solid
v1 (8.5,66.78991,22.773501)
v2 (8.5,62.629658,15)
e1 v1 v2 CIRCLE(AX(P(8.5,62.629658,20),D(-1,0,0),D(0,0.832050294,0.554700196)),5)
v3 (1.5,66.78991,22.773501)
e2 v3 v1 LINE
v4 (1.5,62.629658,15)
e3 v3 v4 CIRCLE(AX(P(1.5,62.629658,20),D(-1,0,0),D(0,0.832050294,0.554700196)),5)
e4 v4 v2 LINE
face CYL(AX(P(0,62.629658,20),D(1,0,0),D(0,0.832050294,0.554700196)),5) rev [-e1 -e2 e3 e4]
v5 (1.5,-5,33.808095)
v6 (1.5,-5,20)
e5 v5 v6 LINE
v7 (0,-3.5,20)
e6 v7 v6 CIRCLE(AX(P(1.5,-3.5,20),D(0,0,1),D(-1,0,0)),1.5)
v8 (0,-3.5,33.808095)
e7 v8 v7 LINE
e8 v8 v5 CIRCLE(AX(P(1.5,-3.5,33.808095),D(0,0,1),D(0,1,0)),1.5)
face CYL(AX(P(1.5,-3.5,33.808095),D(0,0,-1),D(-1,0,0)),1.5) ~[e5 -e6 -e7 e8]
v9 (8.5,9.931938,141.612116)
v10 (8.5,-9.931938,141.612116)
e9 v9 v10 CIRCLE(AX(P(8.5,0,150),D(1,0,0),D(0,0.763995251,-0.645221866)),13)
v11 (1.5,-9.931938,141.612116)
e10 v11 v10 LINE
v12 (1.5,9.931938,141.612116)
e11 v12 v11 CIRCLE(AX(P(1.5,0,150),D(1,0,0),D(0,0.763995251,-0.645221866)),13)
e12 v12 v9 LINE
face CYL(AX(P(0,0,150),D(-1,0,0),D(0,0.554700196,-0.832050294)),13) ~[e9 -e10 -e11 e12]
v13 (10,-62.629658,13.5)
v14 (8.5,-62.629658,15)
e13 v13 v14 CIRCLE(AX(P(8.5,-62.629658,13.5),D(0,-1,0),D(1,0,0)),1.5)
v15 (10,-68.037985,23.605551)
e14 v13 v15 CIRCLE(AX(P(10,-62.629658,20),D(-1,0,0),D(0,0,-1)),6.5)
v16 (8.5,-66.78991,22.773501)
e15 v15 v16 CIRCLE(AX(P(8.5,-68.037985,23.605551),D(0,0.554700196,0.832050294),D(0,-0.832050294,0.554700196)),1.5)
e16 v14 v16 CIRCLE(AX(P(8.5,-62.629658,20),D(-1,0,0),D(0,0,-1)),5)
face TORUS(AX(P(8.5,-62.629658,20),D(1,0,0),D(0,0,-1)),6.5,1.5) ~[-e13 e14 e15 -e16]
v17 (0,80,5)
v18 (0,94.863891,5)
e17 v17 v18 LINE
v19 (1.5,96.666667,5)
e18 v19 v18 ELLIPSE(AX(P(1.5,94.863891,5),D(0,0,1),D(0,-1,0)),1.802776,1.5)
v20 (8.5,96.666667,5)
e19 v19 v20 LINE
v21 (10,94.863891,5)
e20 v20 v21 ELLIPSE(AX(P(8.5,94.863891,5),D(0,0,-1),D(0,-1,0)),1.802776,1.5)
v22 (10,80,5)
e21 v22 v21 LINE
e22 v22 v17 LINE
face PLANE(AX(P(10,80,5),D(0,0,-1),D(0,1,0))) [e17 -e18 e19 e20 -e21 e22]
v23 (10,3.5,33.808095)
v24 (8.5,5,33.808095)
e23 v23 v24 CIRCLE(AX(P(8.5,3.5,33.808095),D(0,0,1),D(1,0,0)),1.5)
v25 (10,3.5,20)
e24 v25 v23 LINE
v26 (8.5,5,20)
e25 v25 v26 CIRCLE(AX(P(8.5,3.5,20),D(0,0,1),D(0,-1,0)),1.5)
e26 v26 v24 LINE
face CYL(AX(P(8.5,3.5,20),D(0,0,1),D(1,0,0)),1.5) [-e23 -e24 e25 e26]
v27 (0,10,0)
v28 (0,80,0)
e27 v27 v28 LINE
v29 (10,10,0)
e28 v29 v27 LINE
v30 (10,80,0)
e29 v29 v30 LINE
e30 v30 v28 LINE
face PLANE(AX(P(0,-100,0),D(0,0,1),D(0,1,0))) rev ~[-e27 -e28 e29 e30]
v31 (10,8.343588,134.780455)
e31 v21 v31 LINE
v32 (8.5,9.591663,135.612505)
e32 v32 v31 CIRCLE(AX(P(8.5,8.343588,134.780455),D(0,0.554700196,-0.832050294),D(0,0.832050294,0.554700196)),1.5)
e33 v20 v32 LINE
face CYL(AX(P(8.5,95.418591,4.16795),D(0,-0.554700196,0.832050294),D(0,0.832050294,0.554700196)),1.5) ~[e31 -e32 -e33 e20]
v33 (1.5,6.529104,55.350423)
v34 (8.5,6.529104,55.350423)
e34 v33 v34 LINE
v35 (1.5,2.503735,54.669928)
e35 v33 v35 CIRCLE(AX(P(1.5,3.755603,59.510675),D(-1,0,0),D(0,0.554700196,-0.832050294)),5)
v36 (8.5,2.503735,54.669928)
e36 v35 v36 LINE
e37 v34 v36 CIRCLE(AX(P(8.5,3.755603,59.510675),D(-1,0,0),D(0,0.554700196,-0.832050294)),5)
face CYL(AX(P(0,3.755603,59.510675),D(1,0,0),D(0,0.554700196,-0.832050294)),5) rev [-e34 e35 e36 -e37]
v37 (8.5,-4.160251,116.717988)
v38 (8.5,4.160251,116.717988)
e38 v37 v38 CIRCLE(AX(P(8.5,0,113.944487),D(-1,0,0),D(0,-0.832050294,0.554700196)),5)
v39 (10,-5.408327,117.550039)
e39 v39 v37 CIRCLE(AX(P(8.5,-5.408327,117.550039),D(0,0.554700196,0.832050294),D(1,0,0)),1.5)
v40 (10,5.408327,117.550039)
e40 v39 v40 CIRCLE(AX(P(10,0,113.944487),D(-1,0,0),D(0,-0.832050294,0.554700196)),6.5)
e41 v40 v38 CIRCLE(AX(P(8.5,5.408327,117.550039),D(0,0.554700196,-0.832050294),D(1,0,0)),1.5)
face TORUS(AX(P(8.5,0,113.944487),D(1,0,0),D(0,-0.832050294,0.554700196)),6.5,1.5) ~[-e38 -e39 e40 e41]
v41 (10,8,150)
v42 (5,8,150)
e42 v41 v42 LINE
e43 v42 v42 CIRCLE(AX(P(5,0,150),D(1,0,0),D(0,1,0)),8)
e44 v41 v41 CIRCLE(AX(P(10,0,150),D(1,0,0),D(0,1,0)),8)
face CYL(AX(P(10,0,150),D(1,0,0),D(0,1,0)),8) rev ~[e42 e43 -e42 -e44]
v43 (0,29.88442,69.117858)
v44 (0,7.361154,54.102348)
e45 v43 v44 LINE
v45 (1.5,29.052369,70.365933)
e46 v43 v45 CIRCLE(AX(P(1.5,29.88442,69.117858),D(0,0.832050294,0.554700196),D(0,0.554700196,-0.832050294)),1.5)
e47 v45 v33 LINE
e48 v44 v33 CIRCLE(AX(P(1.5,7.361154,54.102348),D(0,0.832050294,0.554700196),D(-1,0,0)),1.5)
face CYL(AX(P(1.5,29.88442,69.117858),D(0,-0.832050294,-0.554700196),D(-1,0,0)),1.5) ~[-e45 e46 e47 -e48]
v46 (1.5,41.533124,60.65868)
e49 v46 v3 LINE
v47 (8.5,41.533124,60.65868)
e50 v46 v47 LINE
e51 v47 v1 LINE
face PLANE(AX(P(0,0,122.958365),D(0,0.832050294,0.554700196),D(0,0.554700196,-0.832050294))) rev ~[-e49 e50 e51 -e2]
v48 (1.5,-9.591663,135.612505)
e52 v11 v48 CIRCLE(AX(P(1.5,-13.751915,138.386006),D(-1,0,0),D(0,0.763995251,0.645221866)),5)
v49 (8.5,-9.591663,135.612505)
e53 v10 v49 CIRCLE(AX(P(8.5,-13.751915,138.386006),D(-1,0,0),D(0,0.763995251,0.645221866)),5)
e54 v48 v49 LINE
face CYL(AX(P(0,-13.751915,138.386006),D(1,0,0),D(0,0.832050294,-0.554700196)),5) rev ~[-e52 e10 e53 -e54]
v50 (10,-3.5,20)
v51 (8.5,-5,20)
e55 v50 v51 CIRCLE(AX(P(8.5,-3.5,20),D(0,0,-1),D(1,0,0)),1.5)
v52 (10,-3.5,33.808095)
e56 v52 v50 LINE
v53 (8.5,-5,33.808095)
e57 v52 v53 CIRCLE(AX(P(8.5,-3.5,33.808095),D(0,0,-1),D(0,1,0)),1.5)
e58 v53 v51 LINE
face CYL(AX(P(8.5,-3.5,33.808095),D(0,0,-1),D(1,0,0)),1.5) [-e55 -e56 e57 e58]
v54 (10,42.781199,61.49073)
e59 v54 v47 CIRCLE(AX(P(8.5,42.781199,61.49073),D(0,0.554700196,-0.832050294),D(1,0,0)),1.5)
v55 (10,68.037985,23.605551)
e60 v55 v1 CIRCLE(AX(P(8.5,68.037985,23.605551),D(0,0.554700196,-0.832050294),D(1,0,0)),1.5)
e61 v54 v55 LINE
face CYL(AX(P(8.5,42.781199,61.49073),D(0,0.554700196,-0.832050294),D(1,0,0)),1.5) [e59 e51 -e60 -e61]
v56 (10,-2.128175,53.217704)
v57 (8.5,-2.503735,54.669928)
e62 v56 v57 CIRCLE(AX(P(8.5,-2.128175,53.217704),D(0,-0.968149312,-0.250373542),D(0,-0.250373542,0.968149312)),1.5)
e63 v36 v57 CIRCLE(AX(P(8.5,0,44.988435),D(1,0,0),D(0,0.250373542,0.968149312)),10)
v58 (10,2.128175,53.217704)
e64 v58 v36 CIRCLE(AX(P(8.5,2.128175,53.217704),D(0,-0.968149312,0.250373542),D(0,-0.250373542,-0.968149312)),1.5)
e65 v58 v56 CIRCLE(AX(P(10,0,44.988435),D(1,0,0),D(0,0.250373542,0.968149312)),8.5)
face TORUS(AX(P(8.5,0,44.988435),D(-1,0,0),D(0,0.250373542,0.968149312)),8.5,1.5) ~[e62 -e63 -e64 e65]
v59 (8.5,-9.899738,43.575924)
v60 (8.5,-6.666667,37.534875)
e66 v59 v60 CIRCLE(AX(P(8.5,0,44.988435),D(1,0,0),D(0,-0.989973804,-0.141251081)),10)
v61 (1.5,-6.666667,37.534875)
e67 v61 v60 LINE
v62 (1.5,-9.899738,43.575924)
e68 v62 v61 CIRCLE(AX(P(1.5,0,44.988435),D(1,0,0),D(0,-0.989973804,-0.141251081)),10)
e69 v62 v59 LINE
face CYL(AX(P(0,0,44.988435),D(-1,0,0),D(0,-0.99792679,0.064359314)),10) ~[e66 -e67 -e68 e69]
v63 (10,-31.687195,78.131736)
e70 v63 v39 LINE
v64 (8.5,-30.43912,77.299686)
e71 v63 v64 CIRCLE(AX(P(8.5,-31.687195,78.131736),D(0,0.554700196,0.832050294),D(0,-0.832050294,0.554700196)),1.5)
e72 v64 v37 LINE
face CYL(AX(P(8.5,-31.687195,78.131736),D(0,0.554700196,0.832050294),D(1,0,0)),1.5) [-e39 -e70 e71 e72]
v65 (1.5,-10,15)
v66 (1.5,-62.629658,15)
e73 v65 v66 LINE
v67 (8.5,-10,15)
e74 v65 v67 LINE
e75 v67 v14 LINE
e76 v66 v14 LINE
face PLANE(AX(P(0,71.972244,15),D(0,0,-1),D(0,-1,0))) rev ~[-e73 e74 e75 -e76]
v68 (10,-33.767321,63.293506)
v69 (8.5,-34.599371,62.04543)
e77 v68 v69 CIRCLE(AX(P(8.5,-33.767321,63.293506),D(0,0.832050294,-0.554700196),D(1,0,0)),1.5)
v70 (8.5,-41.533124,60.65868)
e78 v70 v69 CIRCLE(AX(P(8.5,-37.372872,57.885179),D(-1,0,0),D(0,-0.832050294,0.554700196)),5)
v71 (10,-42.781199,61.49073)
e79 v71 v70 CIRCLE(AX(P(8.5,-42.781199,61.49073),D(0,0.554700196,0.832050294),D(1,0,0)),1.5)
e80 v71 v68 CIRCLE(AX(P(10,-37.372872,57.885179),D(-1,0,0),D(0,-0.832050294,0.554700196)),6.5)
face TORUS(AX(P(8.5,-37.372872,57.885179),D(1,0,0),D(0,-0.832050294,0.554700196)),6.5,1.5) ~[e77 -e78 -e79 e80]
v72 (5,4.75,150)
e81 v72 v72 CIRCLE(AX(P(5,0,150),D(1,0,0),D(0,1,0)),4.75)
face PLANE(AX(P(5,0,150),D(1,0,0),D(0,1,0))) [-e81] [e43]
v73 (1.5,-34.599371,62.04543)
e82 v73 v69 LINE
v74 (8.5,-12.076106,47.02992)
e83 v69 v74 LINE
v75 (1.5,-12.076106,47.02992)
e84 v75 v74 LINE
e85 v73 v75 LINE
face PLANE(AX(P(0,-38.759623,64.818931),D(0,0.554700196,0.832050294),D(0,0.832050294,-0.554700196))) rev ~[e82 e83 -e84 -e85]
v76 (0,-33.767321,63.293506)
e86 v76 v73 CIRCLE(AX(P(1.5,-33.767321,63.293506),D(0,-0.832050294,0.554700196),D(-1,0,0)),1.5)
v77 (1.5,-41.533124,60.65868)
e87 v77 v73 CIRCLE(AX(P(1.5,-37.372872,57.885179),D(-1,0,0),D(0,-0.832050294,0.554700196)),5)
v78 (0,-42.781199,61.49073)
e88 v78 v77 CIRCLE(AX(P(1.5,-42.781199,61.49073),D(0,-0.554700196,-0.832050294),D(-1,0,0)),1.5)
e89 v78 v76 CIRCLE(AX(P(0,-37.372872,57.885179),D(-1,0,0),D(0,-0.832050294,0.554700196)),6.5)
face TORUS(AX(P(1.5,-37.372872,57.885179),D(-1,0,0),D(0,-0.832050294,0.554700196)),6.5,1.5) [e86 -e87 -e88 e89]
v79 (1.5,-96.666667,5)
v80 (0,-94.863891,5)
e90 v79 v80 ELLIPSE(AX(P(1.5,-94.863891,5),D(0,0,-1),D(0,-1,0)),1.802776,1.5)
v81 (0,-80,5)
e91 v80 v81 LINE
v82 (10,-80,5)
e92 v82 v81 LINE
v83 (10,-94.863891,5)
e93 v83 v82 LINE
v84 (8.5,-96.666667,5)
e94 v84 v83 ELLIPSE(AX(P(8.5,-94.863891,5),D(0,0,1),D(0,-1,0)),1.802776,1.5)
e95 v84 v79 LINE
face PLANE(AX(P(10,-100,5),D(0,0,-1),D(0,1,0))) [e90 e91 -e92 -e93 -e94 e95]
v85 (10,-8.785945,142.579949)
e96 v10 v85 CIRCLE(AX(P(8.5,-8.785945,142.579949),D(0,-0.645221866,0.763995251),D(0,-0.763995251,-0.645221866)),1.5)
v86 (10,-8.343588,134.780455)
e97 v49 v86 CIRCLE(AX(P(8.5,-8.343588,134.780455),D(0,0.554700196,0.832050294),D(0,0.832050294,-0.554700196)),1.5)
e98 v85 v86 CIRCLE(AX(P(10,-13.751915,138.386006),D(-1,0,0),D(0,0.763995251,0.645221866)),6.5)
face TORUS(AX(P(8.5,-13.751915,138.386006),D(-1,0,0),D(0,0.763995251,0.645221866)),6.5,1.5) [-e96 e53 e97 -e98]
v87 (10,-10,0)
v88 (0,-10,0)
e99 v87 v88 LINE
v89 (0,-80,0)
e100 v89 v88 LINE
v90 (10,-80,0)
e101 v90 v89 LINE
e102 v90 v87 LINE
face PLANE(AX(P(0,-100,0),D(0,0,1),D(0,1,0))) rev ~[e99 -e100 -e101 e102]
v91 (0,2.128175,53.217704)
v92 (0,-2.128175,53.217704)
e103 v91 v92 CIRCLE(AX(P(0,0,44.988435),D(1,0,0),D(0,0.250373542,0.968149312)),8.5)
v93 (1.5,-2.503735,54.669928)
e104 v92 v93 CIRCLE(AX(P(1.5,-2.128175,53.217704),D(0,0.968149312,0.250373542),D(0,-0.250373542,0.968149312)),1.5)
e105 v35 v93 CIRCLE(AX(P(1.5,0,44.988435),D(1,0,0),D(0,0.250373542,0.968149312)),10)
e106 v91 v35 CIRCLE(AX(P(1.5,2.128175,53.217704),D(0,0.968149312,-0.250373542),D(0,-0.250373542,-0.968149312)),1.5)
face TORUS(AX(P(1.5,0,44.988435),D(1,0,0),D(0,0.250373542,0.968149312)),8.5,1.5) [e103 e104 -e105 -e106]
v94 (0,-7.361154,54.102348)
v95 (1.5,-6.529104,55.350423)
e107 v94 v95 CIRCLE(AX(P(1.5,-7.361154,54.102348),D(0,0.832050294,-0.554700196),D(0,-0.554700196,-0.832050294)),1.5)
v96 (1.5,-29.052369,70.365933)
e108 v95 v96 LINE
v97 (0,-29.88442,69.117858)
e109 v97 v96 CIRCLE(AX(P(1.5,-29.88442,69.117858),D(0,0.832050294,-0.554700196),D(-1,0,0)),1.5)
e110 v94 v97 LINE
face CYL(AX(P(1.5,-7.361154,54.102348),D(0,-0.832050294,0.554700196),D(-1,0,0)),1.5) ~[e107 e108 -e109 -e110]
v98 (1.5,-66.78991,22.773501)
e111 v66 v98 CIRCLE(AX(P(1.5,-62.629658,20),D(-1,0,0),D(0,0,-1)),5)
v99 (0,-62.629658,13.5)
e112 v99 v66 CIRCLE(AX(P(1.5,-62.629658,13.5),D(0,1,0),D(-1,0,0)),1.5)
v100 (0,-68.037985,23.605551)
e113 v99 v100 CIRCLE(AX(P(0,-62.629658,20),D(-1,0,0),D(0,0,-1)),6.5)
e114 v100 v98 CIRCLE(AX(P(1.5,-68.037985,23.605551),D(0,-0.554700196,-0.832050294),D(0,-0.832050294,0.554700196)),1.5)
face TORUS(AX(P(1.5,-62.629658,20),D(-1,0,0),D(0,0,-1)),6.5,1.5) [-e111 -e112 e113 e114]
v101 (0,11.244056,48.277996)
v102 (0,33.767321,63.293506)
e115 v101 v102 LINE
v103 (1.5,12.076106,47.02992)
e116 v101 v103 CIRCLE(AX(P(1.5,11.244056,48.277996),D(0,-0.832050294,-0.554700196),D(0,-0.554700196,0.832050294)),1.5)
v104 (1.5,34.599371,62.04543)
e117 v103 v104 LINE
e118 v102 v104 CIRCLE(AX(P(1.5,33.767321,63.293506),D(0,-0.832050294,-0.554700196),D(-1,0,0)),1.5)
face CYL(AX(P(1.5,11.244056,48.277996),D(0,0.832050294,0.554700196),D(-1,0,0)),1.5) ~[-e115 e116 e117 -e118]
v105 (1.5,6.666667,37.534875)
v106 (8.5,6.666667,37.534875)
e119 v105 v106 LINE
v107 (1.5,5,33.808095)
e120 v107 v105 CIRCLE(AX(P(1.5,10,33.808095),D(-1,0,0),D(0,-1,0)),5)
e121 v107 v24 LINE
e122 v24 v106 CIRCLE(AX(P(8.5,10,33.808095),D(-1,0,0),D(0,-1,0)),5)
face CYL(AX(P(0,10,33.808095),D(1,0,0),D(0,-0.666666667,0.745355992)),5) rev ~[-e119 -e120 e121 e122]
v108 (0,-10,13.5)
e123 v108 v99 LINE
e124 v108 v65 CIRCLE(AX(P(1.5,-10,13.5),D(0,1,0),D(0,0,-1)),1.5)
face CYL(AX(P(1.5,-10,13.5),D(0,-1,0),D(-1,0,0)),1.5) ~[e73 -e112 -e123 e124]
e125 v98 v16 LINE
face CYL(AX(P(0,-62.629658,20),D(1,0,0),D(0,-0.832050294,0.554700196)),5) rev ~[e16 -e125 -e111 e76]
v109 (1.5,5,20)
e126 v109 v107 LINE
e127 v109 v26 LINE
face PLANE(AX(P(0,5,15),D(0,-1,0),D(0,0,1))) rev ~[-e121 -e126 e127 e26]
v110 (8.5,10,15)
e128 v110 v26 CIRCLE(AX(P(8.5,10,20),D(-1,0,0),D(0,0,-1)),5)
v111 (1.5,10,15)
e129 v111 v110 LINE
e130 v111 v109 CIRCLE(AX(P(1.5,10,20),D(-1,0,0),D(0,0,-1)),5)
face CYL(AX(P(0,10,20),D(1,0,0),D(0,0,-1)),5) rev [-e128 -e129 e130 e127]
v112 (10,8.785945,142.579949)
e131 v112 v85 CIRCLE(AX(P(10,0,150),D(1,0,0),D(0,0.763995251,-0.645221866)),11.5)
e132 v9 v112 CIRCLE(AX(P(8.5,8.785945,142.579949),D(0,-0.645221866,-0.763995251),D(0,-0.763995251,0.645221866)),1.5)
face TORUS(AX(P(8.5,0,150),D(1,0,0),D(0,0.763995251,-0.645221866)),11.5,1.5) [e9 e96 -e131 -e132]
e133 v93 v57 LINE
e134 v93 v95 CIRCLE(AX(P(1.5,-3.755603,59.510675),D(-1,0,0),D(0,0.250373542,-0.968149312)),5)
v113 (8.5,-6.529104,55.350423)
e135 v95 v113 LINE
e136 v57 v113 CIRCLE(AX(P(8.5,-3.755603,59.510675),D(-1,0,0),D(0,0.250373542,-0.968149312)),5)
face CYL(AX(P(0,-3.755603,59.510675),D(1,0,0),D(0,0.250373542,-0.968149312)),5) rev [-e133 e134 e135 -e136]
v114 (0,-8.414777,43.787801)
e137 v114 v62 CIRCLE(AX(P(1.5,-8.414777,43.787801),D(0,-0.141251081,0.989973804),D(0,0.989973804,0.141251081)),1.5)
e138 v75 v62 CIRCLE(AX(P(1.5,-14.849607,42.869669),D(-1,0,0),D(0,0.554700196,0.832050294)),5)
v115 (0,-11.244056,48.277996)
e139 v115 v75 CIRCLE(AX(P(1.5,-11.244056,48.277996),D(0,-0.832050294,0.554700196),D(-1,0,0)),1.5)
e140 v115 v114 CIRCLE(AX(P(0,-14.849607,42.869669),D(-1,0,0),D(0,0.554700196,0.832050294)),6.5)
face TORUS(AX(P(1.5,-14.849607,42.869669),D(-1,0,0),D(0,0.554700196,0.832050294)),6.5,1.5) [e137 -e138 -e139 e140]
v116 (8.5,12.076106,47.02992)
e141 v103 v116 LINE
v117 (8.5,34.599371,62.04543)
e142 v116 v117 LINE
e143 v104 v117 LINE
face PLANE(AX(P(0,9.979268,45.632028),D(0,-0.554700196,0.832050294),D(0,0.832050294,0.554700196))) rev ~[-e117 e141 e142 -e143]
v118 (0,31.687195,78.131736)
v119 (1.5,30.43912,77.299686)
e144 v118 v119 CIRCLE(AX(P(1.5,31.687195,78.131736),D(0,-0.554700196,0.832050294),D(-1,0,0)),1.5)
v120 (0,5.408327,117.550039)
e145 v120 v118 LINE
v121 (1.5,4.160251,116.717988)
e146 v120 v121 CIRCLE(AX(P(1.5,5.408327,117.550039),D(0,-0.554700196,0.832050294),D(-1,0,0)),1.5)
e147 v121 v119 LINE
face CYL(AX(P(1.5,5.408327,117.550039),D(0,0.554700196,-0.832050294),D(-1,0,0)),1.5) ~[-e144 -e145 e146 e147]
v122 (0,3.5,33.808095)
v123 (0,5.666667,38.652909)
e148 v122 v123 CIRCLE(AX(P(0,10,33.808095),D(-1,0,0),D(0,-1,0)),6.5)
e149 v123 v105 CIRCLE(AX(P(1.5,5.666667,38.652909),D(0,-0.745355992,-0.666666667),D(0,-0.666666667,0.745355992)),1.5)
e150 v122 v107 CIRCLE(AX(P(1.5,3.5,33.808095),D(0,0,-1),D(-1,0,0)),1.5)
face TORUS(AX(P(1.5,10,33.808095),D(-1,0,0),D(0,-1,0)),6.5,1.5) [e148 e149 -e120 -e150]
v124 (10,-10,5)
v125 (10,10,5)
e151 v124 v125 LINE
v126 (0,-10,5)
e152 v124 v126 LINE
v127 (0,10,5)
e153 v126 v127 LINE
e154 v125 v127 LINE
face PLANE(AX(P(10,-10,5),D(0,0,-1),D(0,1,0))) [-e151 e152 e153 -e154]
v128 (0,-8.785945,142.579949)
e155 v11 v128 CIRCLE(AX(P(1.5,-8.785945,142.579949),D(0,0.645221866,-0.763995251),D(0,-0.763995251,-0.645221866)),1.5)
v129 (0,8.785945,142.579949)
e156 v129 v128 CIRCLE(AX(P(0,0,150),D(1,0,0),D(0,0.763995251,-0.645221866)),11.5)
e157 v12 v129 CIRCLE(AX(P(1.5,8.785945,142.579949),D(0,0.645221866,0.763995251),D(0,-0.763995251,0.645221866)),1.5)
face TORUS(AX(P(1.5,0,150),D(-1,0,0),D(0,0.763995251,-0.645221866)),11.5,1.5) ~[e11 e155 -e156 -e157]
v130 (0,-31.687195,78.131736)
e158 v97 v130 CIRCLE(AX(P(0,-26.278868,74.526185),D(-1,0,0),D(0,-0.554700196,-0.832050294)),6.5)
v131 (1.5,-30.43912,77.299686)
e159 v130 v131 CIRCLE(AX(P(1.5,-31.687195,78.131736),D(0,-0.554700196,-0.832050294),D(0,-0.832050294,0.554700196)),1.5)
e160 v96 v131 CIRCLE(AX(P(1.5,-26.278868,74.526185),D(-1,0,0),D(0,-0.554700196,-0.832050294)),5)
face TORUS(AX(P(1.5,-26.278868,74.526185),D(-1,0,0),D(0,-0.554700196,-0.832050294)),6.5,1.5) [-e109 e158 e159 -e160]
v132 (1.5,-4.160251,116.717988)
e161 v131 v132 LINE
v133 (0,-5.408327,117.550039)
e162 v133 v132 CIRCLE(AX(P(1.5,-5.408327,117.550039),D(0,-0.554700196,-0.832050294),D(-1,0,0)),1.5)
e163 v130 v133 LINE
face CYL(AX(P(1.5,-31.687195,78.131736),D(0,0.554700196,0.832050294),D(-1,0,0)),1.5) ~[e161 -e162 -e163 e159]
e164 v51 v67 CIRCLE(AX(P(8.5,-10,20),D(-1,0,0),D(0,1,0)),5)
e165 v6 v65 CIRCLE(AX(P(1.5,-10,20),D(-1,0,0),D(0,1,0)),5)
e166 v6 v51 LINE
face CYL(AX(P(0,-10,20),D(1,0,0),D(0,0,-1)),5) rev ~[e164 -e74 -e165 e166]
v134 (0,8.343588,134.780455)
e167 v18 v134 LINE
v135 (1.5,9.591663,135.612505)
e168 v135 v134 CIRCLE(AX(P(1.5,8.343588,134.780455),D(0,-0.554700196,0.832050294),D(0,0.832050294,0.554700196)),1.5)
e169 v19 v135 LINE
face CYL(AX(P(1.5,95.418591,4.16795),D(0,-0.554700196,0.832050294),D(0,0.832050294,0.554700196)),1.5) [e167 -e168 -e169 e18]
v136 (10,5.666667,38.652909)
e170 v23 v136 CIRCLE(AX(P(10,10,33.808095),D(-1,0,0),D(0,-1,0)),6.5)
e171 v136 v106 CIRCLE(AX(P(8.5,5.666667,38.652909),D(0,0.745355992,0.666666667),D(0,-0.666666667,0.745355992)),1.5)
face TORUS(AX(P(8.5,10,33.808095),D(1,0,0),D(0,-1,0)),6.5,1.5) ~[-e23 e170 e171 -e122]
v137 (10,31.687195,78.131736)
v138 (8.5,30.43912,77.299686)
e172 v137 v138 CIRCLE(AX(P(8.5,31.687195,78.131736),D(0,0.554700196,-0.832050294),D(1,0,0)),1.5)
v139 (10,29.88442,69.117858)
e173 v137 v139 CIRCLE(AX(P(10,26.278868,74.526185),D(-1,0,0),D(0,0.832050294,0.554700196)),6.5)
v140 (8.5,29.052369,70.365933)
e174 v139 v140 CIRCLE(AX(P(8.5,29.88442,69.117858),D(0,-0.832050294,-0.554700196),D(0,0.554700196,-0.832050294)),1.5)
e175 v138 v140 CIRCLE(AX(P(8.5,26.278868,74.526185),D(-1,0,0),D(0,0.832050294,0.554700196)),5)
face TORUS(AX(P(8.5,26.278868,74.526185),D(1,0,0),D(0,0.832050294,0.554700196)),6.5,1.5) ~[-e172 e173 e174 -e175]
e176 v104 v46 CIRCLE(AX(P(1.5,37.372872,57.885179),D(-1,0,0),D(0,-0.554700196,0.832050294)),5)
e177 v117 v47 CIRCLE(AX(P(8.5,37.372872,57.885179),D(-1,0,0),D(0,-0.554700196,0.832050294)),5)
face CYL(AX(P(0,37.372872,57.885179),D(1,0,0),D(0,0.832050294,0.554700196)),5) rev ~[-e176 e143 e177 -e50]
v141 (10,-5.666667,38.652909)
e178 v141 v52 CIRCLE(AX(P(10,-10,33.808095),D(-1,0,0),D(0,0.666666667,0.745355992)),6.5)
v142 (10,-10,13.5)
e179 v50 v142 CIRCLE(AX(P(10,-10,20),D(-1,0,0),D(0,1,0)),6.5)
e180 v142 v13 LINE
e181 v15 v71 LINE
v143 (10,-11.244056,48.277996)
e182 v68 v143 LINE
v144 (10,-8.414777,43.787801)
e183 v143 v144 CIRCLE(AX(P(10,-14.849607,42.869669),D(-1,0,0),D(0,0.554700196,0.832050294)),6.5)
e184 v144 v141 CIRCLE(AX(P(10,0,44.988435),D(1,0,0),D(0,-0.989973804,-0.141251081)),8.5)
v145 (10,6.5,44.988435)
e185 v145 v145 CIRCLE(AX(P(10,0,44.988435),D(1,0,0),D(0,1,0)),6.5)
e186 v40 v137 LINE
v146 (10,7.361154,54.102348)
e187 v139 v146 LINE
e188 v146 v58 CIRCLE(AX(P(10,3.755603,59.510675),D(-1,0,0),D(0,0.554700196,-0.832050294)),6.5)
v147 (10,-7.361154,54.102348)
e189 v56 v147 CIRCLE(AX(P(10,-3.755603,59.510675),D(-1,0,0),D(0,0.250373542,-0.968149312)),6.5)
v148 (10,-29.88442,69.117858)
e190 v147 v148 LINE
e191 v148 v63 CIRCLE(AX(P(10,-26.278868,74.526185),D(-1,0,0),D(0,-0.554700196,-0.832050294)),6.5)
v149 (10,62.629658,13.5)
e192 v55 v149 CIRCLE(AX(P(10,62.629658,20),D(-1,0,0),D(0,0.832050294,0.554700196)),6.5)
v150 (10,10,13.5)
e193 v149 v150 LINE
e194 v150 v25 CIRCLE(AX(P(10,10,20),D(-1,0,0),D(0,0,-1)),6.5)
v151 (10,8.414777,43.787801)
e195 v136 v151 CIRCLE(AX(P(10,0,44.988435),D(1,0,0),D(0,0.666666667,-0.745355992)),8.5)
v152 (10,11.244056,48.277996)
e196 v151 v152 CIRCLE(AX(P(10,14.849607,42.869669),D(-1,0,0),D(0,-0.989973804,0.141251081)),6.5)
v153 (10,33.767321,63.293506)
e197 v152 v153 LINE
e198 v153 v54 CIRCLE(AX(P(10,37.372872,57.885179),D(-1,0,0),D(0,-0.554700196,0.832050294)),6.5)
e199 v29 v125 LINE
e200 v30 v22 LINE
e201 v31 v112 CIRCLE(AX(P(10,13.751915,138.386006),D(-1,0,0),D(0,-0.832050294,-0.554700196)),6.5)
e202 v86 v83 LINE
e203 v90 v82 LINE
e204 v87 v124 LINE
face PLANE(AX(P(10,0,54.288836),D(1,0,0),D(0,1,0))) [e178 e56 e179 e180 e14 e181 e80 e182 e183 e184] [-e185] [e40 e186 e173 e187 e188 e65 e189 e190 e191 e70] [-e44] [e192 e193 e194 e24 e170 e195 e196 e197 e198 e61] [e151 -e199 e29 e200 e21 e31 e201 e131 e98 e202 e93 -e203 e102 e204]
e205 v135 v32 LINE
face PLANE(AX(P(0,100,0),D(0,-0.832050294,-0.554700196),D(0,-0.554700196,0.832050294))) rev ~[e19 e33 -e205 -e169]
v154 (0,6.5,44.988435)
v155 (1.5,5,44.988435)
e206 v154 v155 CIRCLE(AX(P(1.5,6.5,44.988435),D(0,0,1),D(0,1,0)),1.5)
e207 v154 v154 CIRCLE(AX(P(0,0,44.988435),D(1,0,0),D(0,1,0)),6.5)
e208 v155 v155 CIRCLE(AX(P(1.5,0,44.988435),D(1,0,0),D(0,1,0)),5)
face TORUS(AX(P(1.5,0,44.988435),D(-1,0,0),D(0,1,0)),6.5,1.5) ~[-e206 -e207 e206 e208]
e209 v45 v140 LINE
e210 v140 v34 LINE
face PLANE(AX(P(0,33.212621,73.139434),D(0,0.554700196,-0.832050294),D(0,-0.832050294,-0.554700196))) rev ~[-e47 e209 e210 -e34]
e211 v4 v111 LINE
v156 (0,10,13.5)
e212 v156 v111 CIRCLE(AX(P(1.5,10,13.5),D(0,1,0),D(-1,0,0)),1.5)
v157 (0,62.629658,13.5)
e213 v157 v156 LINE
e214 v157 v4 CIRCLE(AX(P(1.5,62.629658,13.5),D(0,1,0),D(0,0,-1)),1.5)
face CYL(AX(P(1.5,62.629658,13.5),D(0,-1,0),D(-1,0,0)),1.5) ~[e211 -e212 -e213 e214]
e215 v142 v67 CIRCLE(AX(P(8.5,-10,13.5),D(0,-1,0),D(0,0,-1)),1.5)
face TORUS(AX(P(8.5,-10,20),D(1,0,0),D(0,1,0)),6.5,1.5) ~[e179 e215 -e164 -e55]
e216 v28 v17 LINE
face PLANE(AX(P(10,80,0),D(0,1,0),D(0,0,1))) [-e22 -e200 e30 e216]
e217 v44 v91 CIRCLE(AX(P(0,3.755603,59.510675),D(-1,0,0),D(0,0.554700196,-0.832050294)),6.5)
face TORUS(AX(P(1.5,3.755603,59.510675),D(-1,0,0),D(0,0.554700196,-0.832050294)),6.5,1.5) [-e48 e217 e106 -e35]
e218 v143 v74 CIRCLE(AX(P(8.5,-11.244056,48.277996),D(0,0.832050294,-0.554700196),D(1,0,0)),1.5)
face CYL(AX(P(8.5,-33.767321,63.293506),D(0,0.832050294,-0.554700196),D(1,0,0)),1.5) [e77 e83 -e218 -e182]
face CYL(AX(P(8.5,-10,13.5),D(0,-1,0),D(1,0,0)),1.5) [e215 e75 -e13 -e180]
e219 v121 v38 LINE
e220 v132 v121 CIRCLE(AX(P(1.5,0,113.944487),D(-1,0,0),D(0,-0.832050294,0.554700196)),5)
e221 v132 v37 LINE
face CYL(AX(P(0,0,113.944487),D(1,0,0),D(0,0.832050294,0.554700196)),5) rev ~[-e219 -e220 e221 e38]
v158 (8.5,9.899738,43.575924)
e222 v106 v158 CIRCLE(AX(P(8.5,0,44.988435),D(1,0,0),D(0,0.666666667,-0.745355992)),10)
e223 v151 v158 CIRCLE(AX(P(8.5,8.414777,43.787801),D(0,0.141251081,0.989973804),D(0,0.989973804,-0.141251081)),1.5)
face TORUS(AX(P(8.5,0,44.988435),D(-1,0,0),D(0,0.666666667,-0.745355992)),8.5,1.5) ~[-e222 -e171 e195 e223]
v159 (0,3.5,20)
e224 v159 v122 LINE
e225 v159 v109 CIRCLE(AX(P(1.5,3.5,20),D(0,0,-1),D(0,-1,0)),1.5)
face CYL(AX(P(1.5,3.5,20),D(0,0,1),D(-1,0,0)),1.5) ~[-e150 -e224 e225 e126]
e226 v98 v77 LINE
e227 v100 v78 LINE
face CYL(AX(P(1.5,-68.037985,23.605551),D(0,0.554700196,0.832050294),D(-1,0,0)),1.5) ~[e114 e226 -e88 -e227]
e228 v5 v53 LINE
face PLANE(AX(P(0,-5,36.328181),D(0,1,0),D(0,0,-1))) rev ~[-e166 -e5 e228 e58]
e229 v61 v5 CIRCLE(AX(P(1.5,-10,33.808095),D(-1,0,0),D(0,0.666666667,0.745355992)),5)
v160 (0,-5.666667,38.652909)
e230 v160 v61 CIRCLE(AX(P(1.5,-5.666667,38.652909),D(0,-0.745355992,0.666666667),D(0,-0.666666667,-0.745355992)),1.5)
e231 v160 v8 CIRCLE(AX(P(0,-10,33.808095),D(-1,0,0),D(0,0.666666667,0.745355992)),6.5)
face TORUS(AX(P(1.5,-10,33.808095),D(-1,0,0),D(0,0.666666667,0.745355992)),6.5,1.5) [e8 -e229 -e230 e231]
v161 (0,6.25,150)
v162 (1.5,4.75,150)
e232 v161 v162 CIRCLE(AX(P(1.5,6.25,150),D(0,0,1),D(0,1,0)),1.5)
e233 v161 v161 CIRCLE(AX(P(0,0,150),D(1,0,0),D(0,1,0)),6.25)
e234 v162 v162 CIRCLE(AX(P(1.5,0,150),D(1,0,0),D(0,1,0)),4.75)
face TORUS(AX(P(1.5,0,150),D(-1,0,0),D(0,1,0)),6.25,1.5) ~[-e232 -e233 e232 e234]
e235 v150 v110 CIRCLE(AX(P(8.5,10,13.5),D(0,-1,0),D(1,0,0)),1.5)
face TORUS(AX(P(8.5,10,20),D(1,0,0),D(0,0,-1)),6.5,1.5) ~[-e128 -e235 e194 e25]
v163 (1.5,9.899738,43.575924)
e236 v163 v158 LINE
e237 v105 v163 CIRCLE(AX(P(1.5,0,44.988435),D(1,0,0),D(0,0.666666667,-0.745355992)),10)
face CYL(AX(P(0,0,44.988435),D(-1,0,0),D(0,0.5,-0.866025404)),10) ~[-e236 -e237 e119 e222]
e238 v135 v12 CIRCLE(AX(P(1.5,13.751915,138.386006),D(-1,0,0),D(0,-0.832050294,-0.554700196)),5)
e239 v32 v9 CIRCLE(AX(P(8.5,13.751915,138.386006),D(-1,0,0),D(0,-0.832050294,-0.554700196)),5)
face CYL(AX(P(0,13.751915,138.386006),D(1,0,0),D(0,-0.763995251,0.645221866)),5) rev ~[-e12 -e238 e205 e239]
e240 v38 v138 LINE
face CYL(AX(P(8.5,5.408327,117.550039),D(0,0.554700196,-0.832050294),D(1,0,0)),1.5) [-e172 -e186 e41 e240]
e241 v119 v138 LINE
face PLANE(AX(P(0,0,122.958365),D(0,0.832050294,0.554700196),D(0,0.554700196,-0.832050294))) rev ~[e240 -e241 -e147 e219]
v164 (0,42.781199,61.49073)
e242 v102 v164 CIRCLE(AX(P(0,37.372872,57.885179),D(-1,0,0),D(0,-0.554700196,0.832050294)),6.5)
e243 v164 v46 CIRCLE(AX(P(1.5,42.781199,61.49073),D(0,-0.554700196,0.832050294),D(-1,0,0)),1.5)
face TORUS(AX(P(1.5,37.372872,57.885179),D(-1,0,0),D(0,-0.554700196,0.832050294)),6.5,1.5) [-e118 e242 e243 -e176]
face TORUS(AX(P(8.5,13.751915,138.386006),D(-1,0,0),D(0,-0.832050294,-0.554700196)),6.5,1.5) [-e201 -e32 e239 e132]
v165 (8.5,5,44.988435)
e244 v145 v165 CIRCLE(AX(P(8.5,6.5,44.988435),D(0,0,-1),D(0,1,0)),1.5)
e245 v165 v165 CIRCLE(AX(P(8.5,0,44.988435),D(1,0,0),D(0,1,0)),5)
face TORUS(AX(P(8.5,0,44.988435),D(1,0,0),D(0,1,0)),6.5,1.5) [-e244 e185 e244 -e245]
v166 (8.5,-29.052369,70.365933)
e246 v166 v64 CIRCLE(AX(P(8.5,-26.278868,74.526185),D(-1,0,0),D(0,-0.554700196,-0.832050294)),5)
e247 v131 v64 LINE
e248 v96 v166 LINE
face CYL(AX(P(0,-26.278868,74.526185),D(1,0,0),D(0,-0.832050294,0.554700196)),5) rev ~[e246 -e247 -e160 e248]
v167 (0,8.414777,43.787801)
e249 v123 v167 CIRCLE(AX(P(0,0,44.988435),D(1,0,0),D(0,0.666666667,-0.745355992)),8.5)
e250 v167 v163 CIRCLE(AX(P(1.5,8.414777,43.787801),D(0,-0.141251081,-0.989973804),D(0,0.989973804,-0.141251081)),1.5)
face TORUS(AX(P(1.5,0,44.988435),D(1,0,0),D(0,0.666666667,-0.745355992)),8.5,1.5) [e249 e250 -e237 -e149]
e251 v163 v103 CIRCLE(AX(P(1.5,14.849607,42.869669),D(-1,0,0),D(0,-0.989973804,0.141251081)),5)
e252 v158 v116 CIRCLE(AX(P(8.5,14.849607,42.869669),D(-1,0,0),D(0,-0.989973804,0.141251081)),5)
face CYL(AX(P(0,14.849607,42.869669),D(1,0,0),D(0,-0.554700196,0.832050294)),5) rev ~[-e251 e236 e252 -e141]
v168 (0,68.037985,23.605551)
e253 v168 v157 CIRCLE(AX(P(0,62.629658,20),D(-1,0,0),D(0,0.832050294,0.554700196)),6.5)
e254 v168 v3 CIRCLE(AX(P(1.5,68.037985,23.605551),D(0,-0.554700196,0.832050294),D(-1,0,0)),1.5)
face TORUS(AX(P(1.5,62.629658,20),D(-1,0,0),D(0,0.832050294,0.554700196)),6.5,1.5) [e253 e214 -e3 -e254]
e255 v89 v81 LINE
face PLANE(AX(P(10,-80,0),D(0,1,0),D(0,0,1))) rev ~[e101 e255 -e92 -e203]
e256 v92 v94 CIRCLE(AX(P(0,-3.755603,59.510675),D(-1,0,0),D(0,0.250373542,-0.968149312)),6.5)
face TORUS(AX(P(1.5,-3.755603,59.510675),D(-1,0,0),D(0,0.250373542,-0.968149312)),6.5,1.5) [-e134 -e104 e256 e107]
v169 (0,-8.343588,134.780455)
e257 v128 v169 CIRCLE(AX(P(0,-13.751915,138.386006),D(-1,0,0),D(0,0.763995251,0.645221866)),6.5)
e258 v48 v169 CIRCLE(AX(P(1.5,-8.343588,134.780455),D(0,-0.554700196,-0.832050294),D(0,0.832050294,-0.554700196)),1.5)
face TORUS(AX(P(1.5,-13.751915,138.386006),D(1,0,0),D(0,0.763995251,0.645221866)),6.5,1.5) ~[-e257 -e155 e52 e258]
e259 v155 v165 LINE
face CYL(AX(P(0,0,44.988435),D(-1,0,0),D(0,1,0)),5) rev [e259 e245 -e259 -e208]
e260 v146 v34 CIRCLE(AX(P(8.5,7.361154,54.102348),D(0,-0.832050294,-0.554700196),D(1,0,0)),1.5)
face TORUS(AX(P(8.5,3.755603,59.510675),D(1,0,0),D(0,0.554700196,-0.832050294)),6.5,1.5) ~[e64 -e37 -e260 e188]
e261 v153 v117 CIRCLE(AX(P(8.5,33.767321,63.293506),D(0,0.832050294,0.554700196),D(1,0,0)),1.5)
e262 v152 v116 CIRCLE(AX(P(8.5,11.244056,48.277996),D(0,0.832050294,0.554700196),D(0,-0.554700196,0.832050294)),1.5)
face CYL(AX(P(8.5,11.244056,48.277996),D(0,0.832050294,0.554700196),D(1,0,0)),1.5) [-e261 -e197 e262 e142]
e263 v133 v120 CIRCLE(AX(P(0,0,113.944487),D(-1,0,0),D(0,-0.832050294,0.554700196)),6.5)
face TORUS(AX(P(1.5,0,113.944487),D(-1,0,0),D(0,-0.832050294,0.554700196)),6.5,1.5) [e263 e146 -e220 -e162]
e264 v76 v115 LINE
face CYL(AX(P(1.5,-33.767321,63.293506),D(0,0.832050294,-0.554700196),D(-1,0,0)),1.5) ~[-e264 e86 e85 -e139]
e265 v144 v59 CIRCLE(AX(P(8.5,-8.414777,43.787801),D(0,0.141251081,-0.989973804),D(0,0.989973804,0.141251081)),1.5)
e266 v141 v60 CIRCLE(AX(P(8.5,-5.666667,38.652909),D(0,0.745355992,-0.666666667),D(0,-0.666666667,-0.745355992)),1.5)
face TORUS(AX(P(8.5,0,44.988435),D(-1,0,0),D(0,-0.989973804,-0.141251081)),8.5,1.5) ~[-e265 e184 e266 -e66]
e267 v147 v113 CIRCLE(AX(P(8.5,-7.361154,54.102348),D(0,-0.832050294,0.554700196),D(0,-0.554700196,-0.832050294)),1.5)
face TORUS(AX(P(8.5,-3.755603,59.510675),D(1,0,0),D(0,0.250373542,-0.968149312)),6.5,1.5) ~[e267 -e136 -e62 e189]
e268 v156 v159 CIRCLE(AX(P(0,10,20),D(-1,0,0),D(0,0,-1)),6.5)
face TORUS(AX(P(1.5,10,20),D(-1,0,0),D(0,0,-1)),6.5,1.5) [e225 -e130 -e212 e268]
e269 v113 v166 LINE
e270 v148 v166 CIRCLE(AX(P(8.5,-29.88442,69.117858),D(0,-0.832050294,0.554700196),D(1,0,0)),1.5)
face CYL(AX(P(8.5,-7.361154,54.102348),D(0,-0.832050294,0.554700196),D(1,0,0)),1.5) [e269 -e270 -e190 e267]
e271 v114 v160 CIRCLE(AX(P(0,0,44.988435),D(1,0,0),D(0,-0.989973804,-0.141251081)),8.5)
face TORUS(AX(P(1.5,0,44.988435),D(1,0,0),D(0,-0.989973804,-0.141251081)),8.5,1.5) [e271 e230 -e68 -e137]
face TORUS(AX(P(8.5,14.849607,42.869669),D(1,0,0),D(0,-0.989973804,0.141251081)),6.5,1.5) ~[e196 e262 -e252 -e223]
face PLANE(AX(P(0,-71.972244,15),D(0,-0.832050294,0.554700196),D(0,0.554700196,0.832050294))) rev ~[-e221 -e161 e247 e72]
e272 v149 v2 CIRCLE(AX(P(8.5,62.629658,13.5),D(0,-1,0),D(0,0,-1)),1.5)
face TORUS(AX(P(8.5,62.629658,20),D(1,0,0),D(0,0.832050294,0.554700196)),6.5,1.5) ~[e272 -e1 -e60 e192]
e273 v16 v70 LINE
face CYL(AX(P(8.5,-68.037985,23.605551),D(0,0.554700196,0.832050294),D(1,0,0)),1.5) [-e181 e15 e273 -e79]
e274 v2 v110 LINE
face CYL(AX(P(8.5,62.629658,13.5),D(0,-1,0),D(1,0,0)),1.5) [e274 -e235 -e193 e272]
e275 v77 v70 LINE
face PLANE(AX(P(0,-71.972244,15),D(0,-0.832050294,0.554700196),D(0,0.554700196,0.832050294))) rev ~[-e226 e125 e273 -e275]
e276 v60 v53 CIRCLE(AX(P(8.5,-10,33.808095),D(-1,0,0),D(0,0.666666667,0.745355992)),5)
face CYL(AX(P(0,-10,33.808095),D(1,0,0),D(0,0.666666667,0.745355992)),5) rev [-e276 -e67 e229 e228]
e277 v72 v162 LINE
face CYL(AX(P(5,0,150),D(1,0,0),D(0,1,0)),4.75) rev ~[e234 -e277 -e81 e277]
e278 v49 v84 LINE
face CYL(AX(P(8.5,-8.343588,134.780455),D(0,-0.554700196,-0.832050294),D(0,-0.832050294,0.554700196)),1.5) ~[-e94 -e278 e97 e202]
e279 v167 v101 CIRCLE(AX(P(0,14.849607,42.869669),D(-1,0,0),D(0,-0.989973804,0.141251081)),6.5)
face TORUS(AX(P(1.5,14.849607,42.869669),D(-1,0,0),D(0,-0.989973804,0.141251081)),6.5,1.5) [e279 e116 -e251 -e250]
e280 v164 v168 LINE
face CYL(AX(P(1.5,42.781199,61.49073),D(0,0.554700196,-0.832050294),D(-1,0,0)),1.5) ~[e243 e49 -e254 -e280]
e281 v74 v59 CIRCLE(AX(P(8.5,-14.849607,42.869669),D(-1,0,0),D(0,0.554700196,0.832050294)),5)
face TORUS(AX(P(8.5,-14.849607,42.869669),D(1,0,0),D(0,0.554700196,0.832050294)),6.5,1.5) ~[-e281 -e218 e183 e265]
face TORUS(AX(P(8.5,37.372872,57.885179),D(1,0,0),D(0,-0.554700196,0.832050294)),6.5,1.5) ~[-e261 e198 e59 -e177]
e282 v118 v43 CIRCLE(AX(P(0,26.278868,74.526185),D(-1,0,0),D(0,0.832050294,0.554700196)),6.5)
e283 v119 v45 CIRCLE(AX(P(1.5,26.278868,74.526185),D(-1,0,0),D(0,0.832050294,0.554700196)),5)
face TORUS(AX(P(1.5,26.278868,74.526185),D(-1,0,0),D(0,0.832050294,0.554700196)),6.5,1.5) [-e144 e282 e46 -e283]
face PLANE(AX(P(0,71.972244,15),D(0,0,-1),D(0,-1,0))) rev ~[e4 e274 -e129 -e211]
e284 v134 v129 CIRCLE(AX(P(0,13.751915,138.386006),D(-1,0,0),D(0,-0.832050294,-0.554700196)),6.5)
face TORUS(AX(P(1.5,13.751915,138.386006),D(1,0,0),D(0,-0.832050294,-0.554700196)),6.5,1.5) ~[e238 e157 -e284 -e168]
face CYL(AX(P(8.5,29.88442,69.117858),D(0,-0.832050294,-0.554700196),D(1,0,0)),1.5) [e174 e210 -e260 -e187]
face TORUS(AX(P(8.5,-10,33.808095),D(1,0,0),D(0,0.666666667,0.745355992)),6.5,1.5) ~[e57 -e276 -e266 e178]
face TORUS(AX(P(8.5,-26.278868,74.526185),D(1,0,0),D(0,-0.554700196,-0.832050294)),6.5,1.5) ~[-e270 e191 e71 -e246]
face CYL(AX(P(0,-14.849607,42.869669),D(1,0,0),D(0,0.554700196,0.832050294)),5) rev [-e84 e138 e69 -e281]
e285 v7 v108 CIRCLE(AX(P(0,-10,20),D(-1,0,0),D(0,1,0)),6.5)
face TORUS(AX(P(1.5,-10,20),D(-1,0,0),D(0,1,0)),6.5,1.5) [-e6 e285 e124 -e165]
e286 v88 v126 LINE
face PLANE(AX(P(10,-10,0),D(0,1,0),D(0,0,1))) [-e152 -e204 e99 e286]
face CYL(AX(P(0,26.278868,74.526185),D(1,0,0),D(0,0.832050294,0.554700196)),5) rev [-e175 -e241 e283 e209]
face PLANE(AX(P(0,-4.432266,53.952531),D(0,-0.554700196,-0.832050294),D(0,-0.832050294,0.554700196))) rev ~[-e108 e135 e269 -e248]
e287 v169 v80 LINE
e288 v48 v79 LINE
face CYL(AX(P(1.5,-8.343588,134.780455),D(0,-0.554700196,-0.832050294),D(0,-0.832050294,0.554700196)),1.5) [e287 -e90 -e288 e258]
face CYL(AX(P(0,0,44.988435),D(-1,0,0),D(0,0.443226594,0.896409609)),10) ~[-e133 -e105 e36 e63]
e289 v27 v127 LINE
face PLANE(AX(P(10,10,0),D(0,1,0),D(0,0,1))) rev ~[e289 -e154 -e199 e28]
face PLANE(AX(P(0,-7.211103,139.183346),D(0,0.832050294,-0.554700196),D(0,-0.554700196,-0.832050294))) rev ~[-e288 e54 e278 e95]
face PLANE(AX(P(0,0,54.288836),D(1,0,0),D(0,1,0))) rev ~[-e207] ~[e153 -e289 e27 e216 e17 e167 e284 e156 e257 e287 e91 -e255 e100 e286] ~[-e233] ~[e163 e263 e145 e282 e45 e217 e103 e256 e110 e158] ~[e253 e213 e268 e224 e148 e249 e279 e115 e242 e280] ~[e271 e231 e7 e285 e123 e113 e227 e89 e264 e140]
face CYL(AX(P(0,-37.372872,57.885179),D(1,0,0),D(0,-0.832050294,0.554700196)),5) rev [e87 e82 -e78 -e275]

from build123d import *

# Parameters (mm, degrees)
F1_DEPTH = 10
F2_R     = 8
F3_DEPTH = 5
F4_R     = 4.75
F5_DEPTH = 5.001
F6_W     = 20
F6_H     = 5
F7_DEPTH = 10.001
F8_R     = 5
F9_DEPTH = 10
F10_R    = 5
F11_R    = 1.5


with BuildPart() as f1:
    # F0 (on Right) → F1 (new body)
    with BuildSketch(Plane.YZ):
        with BuildLine():
            Line((-7.2111025509, 139.1833461736), (-100, 0))
            Line((-100, 0), (100, 0))
            Line((100, 0), (7.2111025509, 139.1833461736))
            ThreePointArc((7.2111025509, 139.1833461736), (0, 163), (-7.2111025509, 139.1833461736))
        make_face()
        Polygon((71.9722436227, 15), (-71.9722436227, 15), (0, 122.958365434), align=None, mode=Mode.SUBTRACT)
    extrude(amount=F1_DEPTH)

    # F2 (on face) → F3 (cut)
    with BuildSketch(Plane.YZ.offset(10)):
        with Locations((0, 150)):
            Circle(F2_R)
    extrude(amount=-F3_DEPTH, mode=Mode.SUBTRACT)

    # F4 (on face) → F5 (cut, through all)
    with BuildSketch(Plane.YZ.offset(5)):
        with Locations((0, 150)):
            Circle(F4_R)
    extrude(amount=-F5_DEPTH, mode=Mode.SUBTRACT)

    # F6 (on face) → F7 (cut, through all)
    with BuildSketch(Plane.YZ.offset(10)):
        with Locations((0, 2.5)):
            Rectangle(F6_W, F6_H)
        with Locations((90, 2.5)):
            Rectangle(F6_W, F6_H)
        with Locations((-90, 2.5)):
            Rectangle(F6_W, F6_H)
    extrude(amount=-F7_DEPTH, mode=Mode.SUBTRACT)

    # F8 (on Right) → F9 (join)
    with BuildSketch(Plane.YZ):
        with BuildLine():
            Line((33.2126208302, 73.1394341887), (4.4322659401, 53.9525309286))
            ThreePointArc((4.4322659401, 53.9525309286), (0, 54.9884348428), (-4.4322659401, 53.9525309286))
            Line((-4.4322659401, 53.9525309286), (-33.2126208302, 73.1394341887))
            Line((-33.2126208302, 73.1394341887), (-38.7596227925, 64.8189312453))
            Line((-38.7596227925, 64.8189312453), (-9.9792679024, 45.6320279852))
            ThreePointArc((-9.9792679024, 45.6320279852), (-8.8167459877, 40.2698555875), (-5, 36.3281808049))
            Line((-5, 36.3281808049), (-5, 15))
            Line((-5, 15), (5, 15))
            Line((5, 15), (5, 36.3281808049))
            ThreePointArc((5, 36.3281808049), (8.8167459877, 40.2698555875), (9.9792679024, 45.6320279852))
            Line((9.9792679024, 45.6320279852), (38.7596227925, 64.8189312453))
            Line((38.7596227925, 64.8189312453), (33.2126208302, 73.1394341887))
        make_face()
        with Locations((0, 44.9884348428)):
            Circle(F8_R, mode=Mode.SUBTRACT)
    extrude(amount=F9_DEPTH)

    # F10
    f10_edges = [f1.edges().sort_by_distance(p)[0] for p in [
        (5, -7.211103, 139.183346),
        (5, 7.211103, 139.183346),
        (5, 71.972244, 15),
        (5, 0, 122.958365),
        (5, -71.972244, 15),
        (5, -33.212621, 73.139434),
        (5, -38.759623, 64.818931),
        (5, 38.759623, 64.818931),
        (5, -9.979268, 45.632028),
        (5, -5, 36.328181),
        (5, 5, 36.328181),
        (5, 9.979268, 45.632028),
        (5, 4.432266, 53.952531),
        (5, -4.432266, 53.952531),
        (5, 33.212621, 73.139434),
        (5, -5, 15),
        (5, 5, 15),
    ]]
    fillet(f10_edges, radius=F10_R)

    # F11
    f11_edges = [f1.edges().sort_by_distance(p)[0] for p in [
        (0, 17.299686, 97.008837),
        (5, 4.160251, 116.717988),
        (5, 30.43912, 77.299686),
        (10, 17.299686, 97.008837),
        (0, 54.161517, 41.71609),
        (5, 41.533124, 60.65868),
        (5, 66.78991, 22.773501),
        (10, 54.161517, 41.71609),
        (0, -23.337739, 54.537675),
        (5, -34.599371, 62.04543),
        (5, -12.076106, 47.02992),
        (10, -23.337739, 54.537675),
        (5, 5, 44.988435),
        (0, -5, 44.988435),
        (10, -5, 44.988435),
        (0, -53.129165, 70.306253),
        (10, -53.129165, 70.306253),
        (0, -4.75, 150),
    ]]
    fillet(f11_edges, radius=F11_R)


solid = f1.part
